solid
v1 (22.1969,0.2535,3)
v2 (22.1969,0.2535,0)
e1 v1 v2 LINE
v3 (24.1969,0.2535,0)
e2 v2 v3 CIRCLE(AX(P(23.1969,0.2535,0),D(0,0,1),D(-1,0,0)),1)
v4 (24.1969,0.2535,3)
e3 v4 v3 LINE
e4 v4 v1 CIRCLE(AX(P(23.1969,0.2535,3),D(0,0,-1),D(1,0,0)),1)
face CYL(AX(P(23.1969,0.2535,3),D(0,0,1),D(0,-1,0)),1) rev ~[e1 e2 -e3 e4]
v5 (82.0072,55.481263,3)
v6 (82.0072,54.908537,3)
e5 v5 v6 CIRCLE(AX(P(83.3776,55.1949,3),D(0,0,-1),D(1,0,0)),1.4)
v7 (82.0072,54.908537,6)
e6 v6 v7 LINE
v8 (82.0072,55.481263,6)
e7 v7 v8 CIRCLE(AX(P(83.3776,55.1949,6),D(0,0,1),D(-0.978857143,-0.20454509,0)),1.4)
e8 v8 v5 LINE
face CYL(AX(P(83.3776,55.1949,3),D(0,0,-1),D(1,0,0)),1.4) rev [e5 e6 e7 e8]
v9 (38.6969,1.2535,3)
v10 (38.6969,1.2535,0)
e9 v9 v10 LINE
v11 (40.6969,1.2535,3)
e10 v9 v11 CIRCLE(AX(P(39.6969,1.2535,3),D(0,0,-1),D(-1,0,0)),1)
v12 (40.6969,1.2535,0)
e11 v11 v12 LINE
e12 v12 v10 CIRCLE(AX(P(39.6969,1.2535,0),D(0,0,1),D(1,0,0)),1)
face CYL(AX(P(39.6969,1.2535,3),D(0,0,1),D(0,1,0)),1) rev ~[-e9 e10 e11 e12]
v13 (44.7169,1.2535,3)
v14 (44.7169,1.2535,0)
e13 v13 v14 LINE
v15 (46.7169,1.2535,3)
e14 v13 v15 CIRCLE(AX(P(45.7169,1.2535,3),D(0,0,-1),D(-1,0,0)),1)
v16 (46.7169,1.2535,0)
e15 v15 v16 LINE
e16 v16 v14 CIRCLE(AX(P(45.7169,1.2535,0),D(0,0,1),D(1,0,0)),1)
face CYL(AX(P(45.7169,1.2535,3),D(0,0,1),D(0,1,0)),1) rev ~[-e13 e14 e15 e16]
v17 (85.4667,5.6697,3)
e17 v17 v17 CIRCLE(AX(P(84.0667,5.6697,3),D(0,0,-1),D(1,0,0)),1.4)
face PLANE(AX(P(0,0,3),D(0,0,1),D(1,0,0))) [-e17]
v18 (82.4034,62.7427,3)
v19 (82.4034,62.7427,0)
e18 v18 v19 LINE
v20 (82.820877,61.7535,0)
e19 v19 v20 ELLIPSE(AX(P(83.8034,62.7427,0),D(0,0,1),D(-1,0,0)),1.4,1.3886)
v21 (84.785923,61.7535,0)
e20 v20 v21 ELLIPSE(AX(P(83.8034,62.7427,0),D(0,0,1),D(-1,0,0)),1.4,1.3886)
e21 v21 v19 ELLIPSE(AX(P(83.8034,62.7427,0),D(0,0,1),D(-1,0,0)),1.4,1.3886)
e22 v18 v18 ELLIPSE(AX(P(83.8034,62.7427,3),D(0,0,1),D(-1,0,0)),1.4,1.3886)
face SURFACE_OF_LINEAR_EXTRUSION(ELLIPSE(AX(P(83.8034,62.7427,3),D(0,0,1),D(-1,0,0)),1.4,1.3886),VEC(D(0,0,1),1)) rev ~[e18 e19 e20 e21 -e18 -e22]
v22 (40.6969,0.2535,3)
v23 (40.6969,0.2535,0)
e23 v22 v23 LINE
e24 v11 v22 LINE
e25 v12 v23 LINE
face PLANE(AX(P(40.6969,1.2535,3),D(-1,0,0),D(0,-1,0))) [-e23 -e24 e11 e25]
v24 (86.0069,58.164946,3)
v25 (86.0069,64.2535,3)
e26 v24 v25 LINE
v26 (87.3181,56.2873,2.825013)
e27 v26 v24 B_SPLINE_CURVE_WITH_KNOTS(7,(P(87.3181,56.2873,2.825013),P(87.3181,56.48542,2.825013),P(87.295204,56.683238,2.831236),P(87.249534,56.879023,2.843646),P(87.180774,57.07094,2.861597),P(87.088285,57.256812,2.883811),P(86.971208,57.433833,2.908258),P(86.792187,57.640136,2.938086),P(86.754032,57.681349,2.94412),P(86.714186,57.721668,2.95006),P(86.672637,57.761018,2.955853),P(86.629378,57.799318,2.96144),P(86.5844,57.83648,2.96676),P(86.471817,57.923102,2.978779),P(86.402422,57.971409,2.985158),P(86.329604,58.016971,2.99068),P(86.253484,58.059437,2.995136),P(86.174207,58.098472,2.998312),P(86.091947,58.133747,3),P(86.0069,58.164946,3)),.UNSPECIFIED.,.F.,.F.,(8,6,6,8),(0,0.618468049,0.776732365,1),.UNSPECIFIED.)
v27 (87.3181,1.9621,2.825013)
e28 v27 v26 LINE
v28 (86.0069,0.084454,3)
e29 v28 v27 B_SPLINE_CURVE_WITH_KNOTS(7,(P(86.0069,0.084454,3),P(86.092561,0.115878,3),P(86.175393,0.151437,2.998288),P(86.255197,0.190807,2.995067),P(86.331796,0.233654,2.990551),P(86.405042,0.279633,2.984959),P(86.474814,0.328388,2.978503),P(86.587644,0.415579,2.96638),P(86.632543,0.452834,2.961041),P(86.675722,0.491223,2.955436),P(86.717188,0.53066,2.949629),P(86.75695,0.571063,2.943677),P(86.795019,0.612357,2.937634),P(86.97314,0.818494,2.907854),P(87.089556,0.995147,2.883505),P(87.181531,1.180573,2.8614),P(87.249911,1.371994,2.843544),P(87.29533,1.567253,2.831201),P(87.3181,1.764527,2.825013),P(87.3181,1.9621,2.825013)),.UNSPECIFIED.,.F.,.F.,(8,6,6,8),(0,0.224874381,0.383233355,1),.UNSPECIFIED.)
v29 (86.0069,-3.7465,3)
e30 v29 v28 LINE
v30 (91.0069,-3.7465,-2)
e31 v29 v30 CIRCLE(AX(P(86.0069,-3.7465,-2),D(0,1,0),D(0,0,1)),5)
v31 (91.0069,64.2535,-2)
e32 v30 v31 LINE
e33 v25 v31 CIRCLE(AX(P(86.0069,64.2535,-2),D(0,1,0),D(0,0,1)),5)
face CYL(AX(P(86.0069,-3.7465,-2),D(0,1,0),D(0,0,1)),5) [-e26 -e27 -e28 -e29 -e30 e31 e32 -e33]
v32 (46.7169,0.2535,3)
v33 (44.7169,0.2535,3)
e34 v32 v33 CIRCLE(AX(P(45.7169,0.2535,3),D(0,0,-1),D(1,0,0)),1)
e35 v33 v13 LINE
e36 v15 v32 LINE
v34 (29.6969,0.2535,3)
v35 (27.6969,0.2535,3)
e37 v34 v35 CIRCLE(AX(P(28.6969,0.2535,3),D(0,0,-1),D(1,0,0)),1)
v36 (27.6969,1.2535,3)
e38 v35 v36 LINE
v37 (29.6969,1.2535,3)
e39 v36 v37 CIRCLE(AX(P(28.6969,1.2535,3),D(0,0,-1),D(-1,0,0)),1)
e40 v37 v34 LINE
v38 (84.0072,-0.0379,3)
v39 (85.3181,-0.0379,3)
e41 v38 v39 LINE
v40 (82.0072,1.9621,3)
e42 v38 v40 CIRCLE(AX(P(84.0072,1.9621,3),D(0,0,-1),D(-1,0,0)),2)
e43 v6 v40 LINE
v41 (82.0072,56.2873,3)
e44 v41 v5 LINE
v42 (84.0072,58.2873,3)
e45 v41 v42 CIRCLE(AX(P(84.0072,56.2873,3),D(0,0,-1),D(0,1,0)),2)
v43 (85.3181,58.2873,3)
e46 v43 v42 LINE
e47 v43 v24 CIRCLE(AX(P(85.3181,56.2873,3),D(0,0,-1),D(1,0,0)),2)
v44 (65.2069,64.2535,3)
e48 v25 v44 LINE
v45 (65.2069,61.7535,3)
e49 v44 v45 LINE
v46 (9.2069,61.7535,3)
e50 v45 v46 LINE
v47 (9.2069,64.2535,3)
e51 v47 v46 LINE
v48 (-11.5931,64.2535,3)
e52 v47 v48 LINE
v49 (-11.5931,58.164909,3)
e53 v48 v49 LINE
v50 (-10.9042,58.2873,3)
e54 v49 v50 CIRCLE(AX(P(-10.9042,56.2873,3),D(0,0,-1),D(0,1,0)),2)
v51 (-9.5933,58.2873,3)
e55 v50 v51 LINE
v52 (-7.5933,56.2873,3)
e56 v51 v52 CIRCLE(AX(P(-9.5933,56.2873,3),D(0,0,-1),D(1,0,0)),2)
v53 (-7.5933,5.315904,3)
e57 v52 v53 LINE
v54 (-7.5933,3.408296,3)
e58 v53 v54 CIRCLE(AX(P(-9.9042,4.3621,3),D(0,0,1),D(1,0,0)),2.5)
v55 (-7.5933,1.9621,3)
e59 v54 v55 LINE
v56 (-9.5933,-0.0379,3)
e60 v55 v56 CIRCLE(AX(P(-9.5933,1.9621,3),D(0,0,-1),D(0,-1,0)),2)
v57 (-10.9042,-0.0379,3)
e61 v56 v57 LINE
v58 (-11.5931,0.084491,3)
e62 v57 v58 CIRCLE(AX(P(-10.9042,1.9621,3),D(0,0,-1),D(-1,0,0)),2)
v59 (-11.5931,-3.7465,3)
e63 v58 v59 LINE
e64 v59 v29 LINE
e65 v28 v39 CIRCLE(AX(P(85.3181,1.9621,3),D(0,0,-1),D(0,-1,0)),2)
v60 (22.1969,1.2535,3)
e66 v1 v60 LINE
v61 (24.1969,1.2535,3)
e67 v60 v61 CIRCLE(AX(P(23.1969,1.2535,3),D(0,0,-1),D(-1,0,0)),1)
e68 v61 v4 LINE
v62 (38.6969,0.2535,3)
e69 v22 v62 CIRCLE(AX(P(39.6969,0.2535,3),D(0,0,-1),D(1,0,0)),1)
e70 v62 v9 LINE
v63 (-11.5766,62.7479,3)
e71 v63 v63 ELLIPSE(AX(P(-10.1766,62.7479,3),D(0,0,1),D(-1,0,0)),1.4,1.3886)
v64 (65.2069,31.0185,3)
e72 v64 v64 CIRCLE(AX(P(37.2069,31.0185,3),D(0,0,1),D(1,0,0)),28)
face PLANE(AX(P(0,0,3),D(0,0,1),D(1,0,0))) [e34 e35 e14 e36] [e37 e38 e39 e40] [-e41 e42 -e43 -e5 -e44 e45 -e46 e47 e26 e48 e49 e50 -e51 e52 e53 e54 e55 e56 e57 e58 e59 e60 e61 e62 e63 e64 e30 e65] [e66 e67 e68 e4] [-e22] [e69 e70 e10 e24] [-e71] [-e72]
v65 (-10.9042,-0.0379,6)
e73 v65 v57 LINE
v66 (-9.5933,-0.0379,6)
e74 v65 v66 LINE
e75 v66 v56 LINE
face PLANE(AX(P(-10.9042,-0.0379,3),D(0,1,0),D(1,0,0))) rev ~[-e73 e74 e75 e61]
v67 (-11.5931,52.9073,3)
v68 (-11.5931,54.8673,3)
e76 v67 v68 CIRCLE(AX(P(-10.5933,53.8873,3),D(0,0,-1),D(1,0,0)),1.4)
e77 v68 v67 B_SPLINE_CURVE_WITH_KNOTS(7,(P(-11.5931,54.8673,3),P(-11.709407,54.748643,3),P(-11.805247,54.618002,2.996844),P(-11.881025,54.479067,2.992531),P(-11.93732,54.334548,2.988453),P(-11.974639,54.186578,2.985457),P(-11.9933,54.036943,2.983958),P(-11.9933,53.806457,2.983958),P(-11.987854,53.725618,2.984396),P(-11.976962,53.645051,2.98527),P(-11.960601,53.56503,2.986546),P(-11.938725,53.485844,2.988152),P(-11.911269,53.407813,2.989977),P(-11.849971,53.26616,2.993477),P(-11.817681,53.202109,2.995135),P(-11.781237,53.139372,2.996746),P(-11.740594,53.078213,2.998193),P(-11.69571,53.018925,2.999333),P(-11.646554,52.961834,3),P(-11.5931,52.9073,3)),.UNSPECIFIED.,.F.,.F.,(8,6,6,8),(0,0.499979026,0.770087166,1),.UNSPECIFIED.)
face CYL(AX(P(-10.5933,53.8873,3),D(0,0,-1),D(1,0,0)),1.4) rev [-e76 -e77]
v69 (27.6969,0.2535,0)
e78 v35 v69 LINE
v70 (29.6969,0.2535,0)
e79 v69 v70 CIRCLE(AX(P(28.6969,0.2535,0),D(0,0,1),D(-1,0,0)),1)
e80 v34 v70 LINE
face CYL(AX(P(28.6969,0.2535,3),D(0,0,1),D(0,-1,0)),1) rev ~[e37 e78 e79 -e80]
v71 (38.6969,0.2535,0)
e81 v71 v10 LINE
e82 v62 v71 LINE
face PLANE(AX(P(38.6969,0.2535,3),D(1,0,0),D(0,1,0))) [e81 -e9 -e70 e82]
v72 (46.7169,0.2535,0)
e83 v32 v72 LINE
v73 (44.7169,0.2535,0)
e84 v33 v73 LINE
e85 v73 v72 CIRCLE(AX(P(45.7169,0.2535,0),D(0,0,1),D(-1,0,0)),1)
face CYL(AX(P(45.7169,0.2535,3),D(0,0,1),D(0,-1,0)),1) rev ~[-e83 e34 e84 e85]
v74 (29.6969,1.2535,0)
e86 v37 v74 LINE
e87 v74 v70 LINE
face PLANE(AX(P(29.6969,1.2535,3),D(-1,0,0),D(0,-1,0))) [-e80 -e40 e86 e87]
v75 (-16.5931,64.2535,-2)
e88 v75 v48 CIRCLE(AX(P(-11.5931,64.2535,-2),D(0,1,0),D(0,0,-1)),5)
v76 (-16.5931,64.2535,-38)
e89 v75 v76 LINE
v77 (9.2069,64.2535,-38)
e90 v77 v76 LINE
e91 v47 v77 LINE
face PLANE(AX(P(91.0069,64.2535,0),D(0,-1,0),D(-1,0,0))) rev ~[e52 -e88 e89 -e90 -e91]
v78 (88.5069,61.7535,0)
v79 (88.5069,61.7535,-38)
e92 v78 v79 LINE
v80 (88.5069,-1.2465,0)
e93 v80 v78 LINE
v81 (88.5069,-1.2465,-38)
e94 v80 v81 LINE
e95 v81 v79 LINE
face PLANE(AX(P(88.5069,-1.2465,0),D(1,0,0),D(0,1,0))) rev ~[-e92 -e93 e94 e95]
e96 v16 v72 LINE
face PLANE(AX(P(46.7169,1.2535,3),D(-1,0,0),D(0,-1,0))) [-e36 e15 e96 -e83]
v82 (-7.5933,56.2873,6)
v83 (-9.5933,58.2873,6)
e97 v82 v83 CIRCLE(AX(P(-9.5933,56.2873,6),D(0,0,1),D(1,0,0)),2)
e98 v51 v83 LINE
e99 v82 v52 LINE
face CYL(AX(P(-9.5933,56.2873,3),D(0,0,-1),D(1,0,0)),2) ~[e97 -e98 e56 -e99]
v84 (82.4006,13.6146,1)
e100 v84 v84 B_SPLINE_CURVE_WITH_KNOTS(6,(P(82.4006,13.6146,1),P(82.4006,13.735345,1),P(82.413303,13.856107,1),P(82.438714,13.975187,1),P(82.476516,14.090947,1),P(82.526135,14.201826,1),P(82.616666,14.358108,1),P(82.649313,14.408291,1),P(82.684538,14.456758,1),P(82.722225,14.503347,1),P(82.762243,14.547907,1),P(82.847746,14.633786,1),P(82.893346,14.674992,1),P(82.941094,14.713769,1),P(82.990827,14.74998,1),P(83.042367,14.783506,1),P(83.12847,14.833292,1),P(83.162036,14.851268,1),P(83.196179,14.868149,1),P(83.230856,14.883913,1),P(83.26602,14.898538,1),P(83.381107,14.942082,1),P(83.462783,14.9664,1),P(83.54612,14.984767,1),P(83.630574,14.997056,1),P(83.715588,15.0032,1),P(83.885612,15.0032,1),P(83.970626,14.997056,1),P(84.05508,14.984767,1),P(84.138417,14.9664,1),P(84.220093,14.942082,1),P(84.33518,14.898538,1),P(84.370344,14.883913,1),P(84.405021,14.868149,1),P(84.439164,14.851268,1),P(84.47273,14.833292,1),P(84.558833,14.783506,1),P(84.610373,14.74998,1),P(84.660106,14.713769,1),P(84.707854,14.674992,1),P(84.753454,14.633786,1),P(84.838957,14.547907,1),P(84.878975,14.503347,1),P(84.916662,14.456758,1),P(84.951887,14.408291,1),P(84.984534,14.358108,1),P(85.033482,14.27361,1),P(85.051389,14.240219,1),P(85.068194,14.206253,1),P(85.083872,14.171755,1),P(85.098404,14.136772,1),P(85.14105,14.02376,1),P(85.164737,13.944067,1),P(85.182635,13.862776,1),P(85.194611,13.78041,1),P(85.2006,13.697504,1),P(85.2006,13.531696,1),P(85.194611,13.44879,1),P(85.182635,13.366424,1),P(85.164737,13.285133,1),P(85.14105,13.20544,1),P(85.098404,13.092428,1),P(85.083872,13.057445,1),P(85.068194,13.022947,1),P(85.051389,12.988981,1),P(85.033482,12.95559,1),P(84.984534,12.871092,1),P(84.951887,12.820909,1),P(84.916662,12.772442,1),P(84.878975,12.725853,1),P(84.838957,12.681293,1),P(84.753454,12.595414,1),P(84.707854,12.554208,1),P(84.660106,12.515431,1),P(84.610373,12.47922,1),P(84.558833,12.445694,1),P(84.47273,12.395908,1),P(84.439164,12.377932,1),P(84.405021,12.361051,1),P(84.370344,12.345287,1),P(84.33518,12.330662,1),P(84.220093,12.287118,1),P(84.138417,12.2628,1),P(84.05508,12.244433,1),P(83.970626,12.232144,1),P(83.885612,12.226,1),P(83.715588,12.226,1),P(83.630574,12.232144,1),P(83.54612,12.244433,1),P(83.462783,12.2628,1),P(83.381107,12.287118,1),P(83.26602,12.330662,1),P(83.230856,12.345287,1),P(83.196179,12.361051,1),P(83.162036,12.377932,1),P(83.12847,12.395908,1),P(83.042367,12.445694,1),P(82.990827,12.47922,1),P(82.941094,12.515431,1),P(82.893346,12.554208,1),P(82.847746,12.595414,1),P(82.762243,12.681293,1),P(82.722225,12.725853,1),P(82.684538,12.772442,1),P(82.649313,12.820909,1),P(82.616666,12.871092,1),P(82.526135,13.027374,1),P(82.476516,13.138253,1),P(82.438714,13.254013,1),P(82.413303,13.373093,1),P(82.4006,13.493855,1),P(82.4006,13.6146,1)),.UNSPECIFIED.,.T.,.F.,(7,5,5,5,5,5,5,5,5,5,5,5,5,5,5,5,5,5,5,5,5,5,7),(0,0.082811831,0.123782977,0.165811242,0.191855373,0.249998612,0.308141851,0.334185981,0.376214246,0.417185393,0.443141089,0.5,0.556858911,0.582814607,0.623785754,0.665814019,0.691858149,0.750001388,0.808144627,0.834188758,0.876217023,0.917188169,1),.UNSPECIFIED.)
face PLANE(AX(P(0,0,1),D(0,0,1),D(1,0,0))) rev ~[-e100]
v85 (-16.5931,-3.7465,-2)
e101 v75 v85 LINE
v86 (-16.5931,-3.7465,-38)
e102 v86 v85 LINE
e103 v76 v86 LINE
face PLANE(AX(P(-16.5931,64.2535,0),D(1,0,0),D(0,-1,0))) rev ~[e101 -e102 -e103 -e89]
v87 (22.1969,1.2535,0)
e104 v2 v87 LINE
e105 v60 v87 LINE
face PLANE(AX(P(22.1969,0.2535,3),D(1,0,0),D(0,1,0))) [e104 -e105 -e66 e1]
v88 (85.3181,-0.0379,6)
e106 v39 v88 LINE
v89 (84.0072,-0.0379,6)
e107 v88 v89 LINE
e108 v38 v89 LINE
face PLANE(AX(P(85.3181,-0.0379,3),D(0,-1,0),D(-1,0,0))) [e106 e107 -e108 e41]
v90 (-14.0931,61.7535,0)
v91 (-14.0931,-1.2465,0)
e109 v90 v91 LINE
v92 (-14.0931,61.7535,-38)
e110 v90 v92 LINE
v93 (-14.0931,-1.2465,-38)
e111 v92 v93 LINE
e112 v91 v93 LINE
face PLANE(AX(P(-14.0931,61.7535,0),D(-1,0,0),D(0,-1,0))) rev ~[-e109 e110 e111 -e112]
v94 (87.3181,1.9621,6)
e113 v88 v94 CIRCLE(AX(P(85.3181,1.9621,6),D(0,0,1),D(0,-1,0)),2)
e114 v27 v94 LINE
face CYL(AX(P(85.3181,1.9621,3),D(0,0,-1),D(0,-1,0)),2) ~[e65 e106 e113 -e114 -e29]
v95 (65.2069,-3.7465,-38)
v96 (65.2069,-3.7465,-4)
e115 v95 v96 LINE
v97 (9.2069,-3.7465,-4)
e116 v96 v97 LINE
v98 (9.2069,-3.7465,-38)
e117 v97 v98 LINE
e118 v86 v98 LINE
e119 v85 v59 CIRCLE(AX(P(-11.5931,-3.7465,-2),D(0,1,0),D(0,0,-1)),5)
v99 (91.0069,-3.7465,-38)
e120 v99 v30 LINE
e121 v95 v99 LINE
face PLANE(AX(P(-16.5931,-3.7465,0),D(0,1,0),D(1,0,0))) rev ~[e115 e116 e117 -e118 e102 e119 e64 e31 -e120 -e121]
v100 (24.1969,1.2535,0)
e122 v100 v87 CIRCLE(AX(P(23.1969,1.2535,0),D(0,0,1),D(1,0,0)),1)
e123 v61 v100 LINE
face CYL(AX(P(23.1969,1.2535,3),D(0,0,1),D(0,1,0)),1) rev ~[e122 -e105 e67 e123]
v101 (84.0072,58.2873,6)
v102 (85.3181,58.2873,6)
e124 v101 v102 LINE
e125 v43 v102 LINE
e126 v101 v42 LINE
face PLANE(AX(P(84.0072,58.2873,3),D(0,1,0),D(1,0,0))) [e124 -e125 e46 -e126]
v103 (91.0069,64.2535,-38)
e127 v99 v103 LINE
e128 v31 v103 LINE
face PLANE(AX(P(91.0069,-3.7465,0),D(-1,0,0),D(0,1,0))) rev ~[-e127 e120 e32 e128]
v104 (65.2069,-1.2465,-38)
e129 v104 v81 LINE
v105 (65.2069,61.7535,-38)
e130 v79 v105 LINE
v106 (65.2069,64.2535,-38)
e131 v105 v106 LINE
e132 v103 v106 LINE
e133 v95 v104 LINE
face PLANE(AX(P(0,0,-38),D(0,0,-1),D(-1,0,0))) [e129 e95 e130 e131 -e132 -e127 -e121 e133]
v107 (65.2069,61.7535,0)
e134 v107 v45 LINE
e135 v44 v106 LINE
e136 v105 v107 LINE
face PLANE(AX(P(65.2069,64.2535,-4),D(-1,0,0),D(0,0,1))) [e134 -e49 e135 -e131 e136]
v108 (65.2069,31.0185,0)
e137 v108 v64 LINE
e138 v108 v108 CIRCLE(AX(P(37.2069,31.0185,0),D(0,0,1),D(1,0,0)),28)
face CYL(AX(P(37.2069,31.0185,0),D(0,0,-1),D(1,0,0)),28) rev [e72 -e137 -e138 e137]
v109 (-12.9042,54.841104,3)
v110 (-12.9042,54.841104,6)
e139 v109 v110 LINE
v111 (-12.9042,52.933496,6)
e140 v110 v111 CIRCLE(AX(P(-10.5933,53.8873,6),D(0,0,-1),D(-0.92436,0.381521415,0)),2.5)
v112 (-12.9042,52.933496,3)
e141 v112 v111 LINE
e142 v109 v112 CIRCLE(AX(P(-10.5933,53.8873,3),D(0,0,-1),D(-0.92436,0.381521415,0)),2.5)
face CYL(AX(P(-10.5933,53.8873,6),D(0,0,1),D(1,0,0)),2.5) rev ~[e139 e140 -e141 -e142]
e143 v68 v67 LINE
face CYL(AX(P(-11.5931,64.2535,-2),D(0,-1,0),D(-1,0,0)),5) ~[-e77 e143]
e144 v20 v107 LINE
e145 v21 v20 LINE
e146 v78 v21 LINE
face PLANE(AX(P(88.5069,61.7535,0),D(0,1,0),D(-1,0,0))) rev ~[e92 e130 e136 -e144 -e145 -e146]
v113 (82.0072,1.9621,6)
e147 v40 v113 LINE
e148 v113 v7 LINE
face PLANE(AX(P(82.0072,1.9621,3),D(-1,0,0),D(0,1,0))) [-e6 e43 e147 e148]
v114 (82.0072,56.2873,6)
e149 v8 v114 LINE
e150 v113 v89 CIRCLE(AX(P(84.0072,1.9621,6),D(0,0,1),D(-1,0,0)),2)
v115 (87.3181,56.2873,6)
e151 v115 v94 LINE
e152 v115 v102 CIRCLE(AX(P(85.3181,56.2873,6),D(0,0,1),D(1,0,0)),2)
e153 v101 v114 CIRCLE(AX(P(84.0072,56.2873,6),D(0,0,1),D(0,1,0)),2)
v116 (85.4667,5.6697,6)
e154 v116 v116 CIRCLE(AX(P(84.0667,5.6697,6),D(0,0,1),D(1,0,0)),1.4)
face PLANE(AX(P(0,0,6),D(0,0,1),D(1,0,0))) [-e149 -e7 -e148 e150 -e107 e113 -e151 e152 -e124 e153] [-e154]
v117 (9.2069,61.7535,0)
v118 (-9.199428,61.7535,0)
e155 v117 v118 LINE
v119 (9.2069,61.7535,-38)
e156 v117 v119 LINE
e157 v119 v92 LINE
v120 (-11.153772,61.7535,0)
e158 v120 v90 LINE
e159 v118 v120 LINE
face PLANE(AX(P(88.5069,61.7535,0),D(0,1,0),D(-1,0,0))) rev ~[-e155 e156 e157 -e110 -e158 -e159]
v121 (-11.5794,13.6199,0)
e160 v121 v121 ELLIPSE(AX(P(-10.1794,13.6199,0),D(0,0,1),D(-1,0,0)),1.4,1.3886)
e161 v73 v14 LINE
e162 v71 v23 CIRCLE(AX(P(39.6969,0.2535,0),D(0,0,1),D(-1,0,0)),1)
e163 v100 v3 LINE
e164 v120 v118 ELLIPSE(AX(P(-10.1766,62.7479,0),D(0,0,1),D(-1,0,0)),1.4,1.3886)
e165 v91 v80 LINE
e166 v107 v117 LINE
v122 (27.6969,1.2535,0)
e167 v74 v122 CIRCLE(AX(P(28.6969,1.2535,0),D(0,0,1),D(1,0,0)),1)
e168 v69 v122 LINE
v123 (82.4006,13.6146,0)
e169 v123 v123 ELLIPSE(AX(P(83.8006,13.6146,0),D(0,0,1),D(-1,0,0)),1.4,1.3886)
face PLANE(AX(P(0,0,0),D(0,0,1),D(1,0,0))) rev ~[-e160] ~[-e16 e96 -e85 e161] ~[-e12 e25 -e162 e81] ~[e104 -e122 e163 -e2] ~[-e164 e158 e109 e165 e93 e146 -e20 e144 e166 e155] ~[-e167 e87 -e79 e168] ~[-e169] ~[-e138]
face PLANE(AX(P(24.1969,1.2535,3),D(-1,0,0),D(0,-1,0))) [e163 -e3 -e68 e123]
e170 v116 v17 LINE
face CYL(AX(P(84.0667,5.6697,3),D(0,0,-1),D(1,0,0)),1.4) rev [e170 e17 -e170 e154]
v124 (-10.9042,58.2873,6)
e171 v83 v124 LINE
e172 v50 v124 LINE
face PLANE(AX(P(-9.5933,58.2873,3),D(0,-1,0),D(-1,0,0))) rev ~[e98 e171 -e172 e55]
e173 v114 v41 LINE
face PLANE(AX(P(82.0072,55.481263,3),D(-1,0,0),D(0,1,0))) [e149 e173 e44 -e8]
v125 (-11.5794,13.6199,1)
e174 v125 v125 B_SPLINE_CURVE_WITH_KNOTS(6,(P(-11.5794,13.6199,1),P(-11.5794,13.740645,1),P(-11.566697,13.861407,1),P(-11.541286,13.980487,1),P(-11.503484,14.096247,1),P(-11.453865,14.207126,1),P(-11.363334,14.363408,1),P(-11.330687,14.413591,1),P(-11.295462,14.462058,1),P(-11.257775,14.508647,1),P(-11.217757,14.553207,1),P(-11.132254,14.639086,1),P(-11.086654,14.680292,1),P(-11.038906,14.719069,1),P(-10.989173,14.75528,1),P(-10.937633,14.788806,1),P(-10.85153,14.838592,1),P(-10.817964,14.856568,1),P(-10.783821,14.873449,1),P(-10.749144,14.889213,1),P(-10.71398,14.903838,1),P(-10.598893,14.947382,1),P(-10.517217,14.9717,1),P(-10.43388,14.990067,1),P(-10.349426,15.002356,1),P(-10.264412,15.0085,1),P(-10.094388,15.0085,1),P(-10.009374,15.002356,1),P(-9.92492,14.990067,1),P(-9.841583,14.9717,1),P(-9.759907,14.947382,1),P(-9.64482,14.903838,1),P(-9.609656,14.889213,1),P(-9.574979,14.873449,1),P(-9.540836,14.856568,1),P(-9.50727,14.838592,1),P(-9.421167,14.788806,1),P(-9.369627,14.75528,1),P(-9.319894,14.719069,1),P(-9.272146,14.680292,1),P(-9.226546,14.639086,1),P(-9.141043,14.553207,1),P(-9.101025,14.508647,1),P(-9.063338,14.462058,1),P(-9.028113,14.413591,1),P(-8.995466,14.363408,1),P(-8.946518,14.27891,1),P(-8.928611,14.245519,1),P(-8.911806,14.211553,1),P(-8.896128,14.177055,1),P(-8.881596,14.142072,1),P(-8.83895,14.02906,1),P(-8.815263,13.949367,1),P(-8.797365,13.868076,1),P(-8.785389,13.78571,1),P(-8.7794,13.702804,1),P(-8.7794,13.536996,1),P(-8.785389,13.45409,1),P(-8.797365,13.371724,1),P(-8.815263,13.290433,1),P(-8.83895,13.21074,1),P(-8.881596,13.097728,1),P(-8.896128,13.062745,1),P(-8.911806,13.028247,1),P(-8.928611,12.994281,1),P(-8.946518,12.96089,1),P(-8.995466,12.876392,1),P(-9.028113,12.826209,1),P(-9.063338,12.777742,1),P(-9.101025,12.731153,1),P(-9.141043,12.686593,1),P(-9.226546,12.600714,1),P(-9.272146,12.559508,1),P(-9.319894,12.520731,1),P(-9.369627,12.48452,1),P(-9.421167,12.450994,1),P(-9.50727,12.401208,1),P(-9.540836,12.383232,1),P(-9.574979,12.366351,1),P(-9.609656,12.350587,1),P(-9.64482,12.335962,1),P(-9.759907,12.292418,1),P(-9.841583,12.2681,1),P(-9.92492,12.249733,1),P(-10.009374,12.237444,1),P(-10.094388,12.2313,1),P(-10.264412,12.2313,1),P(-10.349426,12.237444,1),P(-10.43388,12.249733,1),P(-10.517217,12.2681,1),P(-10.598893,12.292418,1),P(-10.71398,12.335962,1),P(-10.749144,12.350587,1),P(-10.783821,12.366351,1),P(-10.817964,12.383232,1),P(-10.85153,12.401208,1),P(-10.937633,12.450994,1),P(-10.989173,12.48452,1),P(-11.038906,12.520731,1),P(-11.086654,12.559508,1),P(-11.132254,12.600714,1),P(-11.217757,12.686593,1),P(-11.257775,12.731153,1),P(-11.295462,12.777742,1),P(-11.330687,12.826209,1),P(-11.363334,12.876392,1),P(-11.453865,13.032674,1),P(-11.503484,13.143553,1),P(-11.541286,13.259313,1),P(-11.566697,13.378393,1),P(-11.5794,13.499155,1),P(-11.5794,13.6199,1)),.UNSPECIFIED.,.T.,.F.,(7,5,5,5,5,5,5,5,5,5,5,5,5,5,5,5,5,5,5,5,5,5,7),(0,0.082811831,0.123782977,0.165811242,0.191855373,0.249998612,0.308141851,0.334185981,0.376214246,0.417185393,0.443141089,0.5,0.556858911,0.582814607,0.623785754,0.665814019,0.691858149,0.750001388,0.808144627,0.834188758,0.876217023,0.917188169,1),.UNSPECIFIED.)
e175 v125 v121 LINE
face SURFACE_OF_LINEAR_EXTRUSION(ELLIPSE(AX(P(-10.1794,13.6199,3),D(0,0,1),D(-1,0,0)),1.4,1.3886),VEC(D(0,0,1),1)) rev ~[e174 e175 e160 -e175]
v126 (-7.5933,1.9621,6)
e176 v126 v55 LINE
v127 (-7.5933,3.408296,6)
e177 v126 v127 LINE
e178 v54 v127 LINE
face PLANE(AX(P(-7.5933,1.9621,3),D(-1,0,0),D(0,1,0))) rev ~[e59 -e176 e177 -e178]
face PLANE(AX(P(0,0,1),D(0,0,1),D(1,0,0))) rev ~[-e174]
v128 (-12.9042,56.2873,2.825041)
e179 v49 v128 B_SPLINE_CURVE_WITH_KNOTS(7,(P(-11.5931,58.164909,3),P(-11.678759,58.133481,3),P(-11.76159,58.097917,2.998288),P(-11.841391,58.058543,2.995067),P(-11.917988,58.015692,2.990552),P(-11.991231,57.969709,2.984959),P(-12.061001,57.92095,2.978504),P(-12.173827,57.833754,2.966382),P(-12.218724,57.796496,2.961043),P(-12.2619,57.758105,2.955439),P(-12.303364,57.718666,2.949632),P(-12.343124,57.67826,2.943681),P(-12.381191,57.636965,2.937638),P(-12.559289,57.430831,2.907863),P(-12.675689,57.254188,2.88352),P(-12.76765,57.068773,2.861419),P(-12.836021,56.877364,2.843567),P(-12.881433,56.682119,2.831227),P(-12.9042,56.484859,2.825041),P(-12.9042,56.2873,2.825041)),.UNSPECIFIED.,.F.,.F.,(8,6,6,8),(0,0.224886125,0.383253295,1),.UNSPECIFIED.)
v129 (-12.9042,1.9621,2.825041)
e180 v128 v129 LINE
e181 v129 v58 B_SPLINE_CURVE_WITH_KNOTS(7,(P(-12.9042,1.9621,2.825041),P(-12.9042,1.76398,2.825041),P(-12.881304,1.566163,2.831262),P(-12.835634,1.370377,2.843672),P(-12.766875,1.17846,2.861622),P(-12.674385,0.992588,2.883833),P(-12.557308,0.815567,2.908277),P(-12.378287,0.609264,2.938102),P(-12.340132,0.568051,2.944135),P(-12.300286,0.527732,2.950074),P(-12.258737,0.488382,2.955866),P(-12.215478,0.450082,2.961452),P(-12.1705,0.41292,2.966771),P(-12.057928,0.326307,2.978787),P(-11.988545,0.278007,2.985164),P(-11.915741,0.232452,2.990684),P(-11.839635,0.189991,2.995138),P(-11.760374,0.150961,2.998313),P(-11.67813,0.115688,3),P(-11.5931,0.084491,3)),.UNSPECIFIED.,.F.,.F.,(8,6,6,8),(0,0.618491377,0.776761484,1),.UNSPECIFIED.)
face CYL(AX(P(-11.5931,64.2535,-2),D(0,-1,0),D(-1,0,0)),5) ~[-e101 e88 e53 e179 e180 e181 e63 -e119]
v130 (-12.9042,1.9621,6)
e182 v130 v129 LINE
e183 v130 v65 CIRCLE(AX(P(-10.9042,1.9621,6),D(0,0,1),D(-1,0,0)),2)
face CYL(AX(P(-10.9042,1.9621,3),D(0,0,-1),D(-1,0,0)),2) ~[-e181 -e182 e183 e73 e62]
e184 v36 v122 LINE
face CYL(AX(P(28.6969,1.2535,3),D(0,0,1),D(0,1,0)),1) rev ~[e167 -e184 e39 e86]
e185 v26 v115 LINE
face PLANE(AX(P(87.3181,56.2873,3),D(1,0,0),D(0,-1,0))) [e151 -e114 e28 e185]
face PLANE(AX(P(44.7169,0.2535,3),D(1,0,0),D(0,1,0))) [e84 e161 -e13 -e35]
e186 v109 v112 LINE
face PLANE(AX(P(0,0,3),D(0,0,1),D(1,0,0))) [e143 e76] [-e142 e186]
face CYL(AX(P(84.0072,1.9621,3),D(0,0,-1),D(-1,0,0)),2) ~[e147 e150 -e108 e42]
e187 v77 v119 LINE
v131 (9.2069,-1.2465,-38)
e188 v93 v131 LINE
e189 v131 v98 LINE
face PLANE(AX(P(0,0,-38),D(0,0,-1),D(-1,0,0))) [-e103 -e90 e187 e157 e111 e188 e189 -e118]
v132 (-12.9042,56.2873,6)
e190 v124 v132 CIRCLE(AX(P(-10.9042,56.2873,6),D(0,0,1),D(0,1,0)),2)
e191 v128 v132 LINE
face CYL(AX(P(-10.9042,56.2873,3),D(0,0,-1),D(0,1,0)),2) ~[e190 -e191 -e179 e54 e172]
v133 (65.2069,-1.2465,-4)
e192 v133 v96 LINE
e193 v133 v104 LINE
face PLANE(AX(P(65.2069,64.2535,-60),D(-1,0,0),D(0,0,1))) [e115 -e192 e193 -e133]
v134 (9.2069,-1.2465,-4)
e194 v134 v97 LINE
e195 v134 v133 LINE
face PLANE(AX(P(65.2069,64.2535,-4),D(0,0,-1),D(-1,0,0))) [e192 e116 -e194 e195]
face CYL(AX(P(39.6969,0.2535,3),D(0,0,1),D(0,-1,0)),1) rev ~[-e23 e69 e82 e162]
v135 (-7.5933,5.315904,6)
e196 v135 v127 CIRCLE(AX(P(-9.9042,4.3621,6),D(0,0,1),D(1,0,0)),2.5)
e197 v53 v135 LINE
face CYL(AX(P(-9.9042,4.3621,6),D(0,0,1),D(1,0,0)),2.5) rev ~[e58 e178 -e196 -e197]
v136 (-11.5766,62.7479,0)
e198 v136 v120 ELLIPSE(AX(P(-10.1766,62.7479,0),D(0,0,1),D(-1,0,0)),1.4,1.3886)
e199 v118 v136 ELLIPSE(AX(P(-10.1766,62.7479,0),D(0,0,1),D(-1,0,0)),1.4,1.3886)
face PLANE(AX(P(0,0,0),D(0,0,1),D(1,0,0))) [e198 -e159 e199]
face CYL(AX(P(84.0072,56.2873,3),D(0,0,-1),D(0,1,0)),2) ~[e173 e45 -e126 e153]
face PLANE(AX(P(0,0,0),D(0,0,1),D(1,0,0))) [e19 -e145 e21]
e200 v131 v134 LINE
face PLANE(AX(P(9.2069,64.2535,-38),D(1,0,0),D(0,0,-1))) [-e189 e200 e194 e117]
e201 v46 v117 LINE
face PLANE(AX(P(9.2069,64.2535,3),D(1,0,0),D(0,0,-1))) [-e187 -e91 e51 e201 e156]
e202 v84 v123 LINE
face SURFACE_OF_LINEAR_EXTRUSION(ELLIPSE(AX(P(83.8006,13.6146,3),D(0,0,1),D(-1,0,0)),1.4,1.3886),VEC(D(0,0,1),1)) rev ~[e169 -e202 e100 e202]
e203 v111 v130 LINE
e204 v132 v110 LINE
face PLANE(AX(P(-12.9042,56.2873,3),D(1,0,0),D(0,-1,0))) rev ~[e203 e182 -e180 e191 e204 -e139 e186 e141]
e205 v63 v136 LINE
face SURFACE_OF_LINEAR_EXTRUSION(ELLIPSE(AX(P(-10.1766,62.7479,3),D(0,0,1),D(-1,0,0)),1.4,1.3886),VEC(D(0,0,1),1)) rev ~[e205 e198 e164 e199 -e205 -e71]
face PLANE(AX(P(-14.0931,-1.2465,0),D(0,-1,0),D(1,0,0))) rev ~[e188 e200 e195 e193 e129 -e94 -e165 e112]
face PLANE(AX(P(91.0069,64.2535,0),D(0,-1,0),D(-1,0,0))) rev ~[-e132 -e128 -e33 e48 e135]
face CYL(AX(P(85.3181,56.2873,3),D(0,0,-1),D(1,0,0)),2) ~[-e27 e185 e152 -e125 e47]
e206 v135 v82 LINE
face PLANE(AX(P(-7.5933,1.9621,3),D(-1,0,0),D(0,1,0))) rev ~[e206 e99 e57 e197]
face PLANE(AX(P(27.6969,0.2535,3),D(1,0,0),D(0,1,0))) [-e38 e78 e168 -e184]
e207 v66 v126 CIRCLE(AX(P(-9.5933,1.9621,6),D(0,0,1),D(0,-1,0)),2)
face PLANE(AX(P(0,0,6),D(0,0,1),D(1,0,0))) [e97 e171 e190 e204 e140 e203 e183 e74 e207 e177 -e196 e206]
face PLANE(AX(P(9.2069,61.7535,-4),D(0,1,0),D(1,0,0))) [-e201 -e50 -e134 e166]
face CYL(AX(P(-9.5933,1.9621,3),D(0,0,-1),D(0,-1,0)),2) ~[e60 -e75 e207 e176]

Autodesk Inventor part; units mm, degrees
ref_plane "YZ Plane" through (0, 0, 0) normal (1, 0, 0) x (0, 1, 0)
ref_plane "XZ Plane" through (0, 0, 0) normal (0, 1, 0) x (-1, 0, 0)
ref_plane "XY Plane" through (0, 0, 0) normal (0, 0, 1) x (1, 0, 0)
sketch "Sketch1" plane through (0, 0, 0) normal (0, 0, 1) x (1, 0, 0)
  circle A0 centre (37.2069, 31.0185) radius 28
  line L0 (-13.5931, 3.1035) -> (88.0069, 3.1035) construction
  line L1 (14.2069, 60.2535) -> (-13.5931, 60.2535) construction
  line L2 (88.0069, 60.2535) -> (60.0869, 60.2535) construction
  line L3 (88.0069, 3.1035) -> (88.0069, 60.2535) construction
  line L4 (-13.5931, 60.2535) -> (-13.5931, 3.1035) construction
  line L5 (11.269, 60.2207) -> (67.149, 60.2207) construction
  line L6 (67.149, 60.2207) -> (67.149, 72.2207) construction
  line L7 (67.149, 72.2207) -> (11.269, 72.2207) construction
  line L8 (11.269, 72.2207) -> (11.269, 60.2207) construction
  circle A1 centre (61.389, 6.2635) radius 1.5 construction
  circle A2 centre (61.389, 55.7935) radius 1.5 construction
  circle A3 centre (5.509, 55.7935) radius 1.5 construction
  circle A4 centre (11.269, 6.9135) radius 1.5 construction
  arc A5 (11.269, 7.6907) -> (11.269, 1.6907) centre (11.269, 4.6907) ccw construction
  line L9 (11.269, 1.6907) -> (11.269, -3.7465) construction
  line L10 (11.269, -3.7465) -> (67.149, -3.7465) construction
  line L11 (67.149, -3.7465) -> (67.149, 1.6907) construction
  arc A6 (67.149, 1.6907) -> (67.149, 7.6907) centre (67.149, 4.6907) ccw construction
  line L12 (67.149, 7.6907) -> (67.149, 51.2207) construction
  arc A7 (67.149, 51.2207) -> (67.149, 57.2207) centre (67.149, 54.2207) ccw construction
  line L13 (67.149, 57.2207) -> (67.149, 60.2207) construction
  line L14 (67.149, 60.2207) -> (11.269, 60.2207) construction
  line L15 (11.269, 60.2207) -> (11.269, 57.2207) construction
  arc A8 (11.269, 57.2207) -> (11.269, 51.2207) centre (11.269, 54.2207) ccw construction
  line L16 (11.269, 51.2207) -> (11.269, 7.6907) construction
  line L17 (-16.5931, -3.7465) -> (91.0069, -3.7465)
  line L18 (91.0069, -3.7465) -> (91.0069, 64.2535)
  line L19 (91.0069, 64.2535) -> (-16.5931, 64.2535)
  line L20 (-16.5931, 64.2535) -> (-16.5931, -3.7465)
  line L21 (37.2069, -3.7465) -> (37.2069, 64.2535) construction
  circle A9 centre (37.2069, 31.0185) radius 23 projected
  point P0 (0, 0)
  dimension "d42" = 0
  dimension "d43" = 3
  dimension "d44" = 3
  dimension "d45" = 4
  dimension "d46" = 4
  dimension "d47" = 57.15
  dimension "d48" = 57.15
  dimension "d49" = 101.6
  dimension "d50" = 3.81
  dimension "d56" = 68
  dimension "d59" = 56
extrude "Extrusion1" add sketch "Sketch1" along normal blind 3 contours L20 L19 L18 L17
sketch "Sketch2" plane through (0, 0, 0) normal (0, 0, -1) x (-1, 0, 0)
  circle A0 centre (-37.2069, 31.0185) radius 28 projected
  line L0 (16.5931, -3.7465) -> (-91.0069, -3.7465) projected
  line L1 (16.5931, 64.2535) -> (16.5931, -3.7465) projected
  line L2 (-91.0069, 64.2535) -> (16.5931, 64.2535) projected
  line L3 (-91.0069, -3.7465) -> (-91.0069, 64.2535) projected
  line L4 (-88.5069, 61.7535) -> (14.0931, 61.7535)
  line L5 (14.0931, 61.7535) -> (14.0931, -1.2465)
  line L6 (14.0931, -1.2465) -> (-88.5069, -1.2465)
  line L7 (-88.5069, -1.2465) -> (-88.5069, 61.7535)
  dimension "d51" = 2.5
  dimension "d52" = 2.5
  dimension "d53" = 2.5
  dimension "d54" = 2.5
extrude "Extrusion2" add sketch "Sketch2" along normal blind 38 contours L0 L3 L2 L1
sketch "Sketch4" plane through (0, 0, 3) normal (0, 0, 1) x (1, 0, 0)
  ellipse E0 centre (83.8034, 62.7427) end of major axis (82.4034, 62.7427) minor radius 1.3886 projected
  ellipse E1 centre (83.8006, 13.6146) end of major axis (82.4006, 13.6146) minor radius 1.3886 projected
  ellipse E2 centre (-10.1794, 13.6199) end of major axis (-11.5794, 13.6199) minor radius 1.3886 projected
  ellipse E3 centre (-10.1766, 62.7479) end of major axis (-11.5766, 62.7479) minor radius 1.3886 projected
  point P0 (0, 0)
extrude "Extrusion3" cut sketch "Sketch4" against normal blind 3
chamfer "Chamfer1" [suppressed]
sketch "Sketch5" plane through (-16.5931, 64.2535, 3) normal (0, 1, 0) x (1, 0, 0)
  line L0 (0, 0) -> (107.6, 0)
  line L1 (25.8, 63) -> (81.8, 63)
  line L2 (81.8, 63) -> (81.8, 7)
  line L3 (81.8, 7) -> (25.8, 7)
  line L4 (25.8, 7) -> (25.8, 63)
  line L5 (53.8, 0) -> (53.8, -31.7336) construction
  line L6 (25.8, 63) -> (81.8, 7) construction
  line L7 (81.8, 63) -> (25.8, 7) construction
  line L8 (104.9242, 0) -> (-0.6758, 0)
  line L9 (107.6, 0) -> (0, 0) projected
  line L10 (0, 41) -> (107.6, 41) projected
  line L11 (53.8, 41) -> (53.8, 0) construction
  point P0 (19.351, -30)
  point P1 (53.8, 35)
  point P2 (53.8, 35)
  dimension "d28" = 56
  dimension "d29" = 56
  dimension "d41" = 7
extrude "Extrusion4" cut sketch "Sketch5" against normal blind 100
fillet "Fillet2" radius 5 2 edges at (-16.5931, 30.2535, 3) (91.0069, 30.2535, 3)
fillet "Fillet3" [suppressed]
sketch "Sketch6" plane through (9.2069, 64.2535, -4) normal (0, 1, 0) x (1, 0, 0)
  line L0 (81.8, -7) -> (-25.8, -7) projected
  line L1 (0, 0) -> (56, 0)
  line L2 (56, 0) -> (56, -7)
  line L3 (56, -7) -> (0, -7)
  line L4 (0, -7) -> (0, 0)
  point P0 (76.8, -7)
  point P1 (-20.8, -7)
  point P2 (-9.2069, -4)
extrude "Extrusion5" cut sketch "Sketch6" against normal blind 2.5
sketch "Sketch7" plane through (0, 0, 3) normal (0, 0, 1) x (1, 0, 0)
  line L0 (-16.5931, -3.7465) -> (91.0069, -3.7465) projected
  line L1 (65.2069, 61.7535) -> (9.2069, 61.7535) projected
  line L2 (37.2069, -3.7465) -> (37.2069, 61.7535) construction
  line L3 (23.1969, -0.7465) -> (23.1969, -0.7465)
  line L4 (22.1969, 0.2535) -> (22.1969, 1.2535)
  line L5 (23.1969, 2.2535) -> (23.1969, 2.2535)
  line L6 (24.1969, 1.2535) -> (24.1969, 0.2535)
  arc A0 (24.1969, 1.2535) -> (23.1969, 2.2535) centre (23.1969, 1.2535) ccw
  arc A1 (23.1969, 2.2535) -> (22.1969, 1.2535) centre (23.1969, 1.2535) ccw
  arc A2 (22.1969, 0.2535) -> (23.1969, -0.7465) centre (23.1969, 0.2535) ccw
  arc A3 (23.1969, -0.7465) -> (24.1969, 0.2535) centre (23.1969, 0.2535) ccw
  line L7 (27.6969, 0.2535) -> (27.6969, 1.2535)
  line L8 (29.6969, 1.2535) -> (29.6969, 0.2535)
  arc A4 (29.6969, 1.2535) -> (28.6969, 2.2535) centre (28.6969, 1.2535) ccw
  arc A5 (28.6969, 2.2535) -> (27.6969, 1.2535) centre (28.6969, 1.2535) ccw
  arc A6 (27.6969, 0.2535) -> (28.6969, -0.7465) centre (28.6969, 0.2535) ccw
  arc A7 (28.6969, -0.7465) -> (29.6969, 0.2535) centre (28.6969, 0.2535) ccw
  line L9 (44.7169, 0.2535) -> (44.7169, 1.2535)
  line L10 (46.7169, 1.2535) -> (46.7169, 0.2535)
  arc A8 (46.7169, 1.2535) -> (45.7169, 2.2535) centre (45.7169, 1.2535) ccw
  arc A9 (45.7169, 2.2535) -> (44.7169, 1.2535) centre (45.7169, 1.2535) ccw
  arc A10 (44.7169, 0.2535) -> (45.7169, -0.7465) centre (45.7169, 0.2535) ccw
  arc A11 (45.7169, -0.7465) -> (46.7169, 0.2535) centre (45.7169, 0.2535) ccw
  line L11 (38.6969, 0.2535) -> (38.6969, 1.2535)
  line L12 (40.6969, 1.2535) -> (40.6969, 0.2535)
  arc A12 (40.6969, 1.2535) -> (39.6969, 2.2535) centre (39.6969, 1.2535) ccw
  arc A13 (39.6969, 2.2535) -> (38.6969, 1.2535) centre (39.6969, 1.2535) ccw
  arc A14 (38.6969, 0.2535) -> (39.6969, -0.7465) centre (39.6969, 0.2535) ccw
  arc A15 (39.6969, -0.7465) -> (40.6969, 0.2535) centre (39.6969, 0.2535) ccw
  line L13 (29.6969, 0.7535) -> (44.7169, 0.7535) construction
  point P0 (-11.5931, -3.7465)
  point P1 (86.0069, -3.7465)
  point P2 (0, 0)
  point P3 (24.1969, -0.7465)
  point P4 (22.1969, 2.2535)
  point P5 (24.1969, 2.2535)
  point P6 (29.6969, -0.7465)
  point P7 (27.6969, 2.2535)
  point P8 (29.6969, 2.2535)
  point P9 (46.7169, -0.7465)
  point P10 (44.7169, 2.2535)
  point P11 (46.7169, 2.2535)
  point P12 (40.6969, -0.7465)
  point P13 (38.6969, 2.2535)
  point P14 (40.6969, 2.2535)
  point P15 (37.2069, 0.7535)
  dimension "d64" = 2
  dimension "d66" = 3
  dimension "d67" = 1
  dimension "d68" = 1
  dimension "d69" = 4
  dimension "d78" = 16.5
  dimension "d79" = 13.01
  dimension "d80" = 1.49
extrude "Extrusion6" cut sketch "Sketch7" against normal blind 3
sketch "Sketch10" plane through (0, 0, 3) normal (0, 0, 1) x (1, 0, 0)
  circle A0 centre (37.2069, 31.0185) radius 28 projected
  circle A1 centre (83.3776, 55.1949) radius 1.4 projected
  circle A2 centre (-9.9042, 4.3621) radius 1.4 projected
  circle A3 centre (-10.5933, 53.8873) radius 1.4 projected
  circle A4 centre (84.0667, 5.6697) radius 1.4 projected
  line L0 (-9.5933, 58.2873) -> (-10.9042, 58.2873)
  line L1 (-12.9042, 56.2873) -> (-12.9042, 1.9621)
  line L2 (-10.9042, -0.0379) -> (-9.5933, -0.0379)
  line L3 (-7.5933, 1.9621) -> (-7.5933, 56.2873)
  arc A5 (-7.5933, 56.2873) -> (-9.5933, 58.2873) centre (-9.5933, 56.2873) ccw
  arc A6 (-10.9042, 58.2873) -> (-12.9042, 56.2873) centre (-10.9042, 56.2873) ccw
  arc A7 (-9.5933, -0.0379) -> (-7.5933, 1.9621) centre (-9.5933, 1.9621) ccw
  arc A8 (-12.9042, 1.9621) -> (-10.9042, -0.0379) centre (-10.9042, 1.9621) ccw
  line L4 (37.2069, 31.0185) -> (37.2069, 47.569) construction
  line L5 (84.0072, 58.2873) -> (85.3181, 58.2873)
  line L6 (87.3181, 56.2873) -> (87.3181, 1.9621)
  line L7 (85.3181, -0.0379) -> (84.0072, -0.0379)
  line L8 (82.0072, 1.9621) -> (82.0072, 56.2873)
  arc A9 (84.0072, 58.2873) -> (82.0072, 56.2873) centre (84.0072, 56.2873) ccw
  arc A10 (87.3181, 56.2873) -> (85.3181, 58.2873) centre (85.3181, 56.2873) ccw
  arc A11 (82.0072, 1.9621) -> (84.0072, -0.0379) centre (84.0072, 1.9621) ccw
  arc A12 (85.3181, -0.0379) -> (87.3181, 1.9621) centre (85.3181, 1.9621) ccw
  point P0 (0, 0)
  dimension "d101" = 3
  dimension "d103" = 3
  dimension "d104" = 3
  dimension "d105" = 3
  dimension "d106" = 2
  dimension "d107" = 2
extrude "Extrusion9" add sketch "Sketch10" along normal blind 3 and the other way blind 2 contours A1 L8 A9 L5 A10 L6 A12 L7 A11 | A5 L3 A7 L2 A8 L1 A6 L0
sketch "Sketch11" plane through (0, 0, 6) normal (0, 0, 1) x (1, 0, 0)
  circle A0 centre (-10.5933, 53.8873) radius 1.4 projected
  circle A1 centre (-9.9042, 4.3621) radius 1.4 projected
  line L0 (82.0072, 54.9087) -> (82.0072, 1.9621) projected
  arc A2 (82.0072, 1.9621) -> (84.0072, -0.0379) centre (84.0072, 1.9621) ccw projected
  line L1 (84.0072, -0.0379) -> (85.3181, -0.0379) projected
  arc A3 (85.3181, -0.0379) -> (87.3181, 1.9621) centre (85.3181, 1.9621) ccw projected
  line L2 (87.3181, 1.9621) -> (87.3181, 56.2873) projected
  arc A4 (87.3181, 56.2873) -> (85.3181, 58.2873) centre (85.3181, 56.2873) ccw projected
  line L3 (85.3181, 58.2873) -> (84.0072, 58.2873) projected
  arc A5 (84.0072, 58.2873) -> (82.0072, 56.2873) centre (84.0072, 56.2873) ccw projected
  circle A6 centre (-10.5933, 53.8873) radius 2.5
  circle A7 centre (-9.9042, 4.3621) radius 2.5
  circle A8 centre (78.5569, 55.7835) radius 2.5
  circle A9 centre (78.5569, 6.2535) radius 2.5
  arc A10 (82.0072, 54.9087) -> (82.0072, 55.4811) centre (83.3776, 55.1949) ccw projected
  line L4 (82.0072, 56.2873) -> (82.0072, 55.4811) projected
  point P0 (0, 0)
  dimension "d112" = 5
  dimension "d114" = 5
  dimension "d115" = 5
  dimension "d116" = 5
extrude "Extrusion10" cut sketch "Sketch11" against normal blind 3 contours A0 | A1 | A6 | A7 | A8 | A9
properties part number "Enclosure01"
